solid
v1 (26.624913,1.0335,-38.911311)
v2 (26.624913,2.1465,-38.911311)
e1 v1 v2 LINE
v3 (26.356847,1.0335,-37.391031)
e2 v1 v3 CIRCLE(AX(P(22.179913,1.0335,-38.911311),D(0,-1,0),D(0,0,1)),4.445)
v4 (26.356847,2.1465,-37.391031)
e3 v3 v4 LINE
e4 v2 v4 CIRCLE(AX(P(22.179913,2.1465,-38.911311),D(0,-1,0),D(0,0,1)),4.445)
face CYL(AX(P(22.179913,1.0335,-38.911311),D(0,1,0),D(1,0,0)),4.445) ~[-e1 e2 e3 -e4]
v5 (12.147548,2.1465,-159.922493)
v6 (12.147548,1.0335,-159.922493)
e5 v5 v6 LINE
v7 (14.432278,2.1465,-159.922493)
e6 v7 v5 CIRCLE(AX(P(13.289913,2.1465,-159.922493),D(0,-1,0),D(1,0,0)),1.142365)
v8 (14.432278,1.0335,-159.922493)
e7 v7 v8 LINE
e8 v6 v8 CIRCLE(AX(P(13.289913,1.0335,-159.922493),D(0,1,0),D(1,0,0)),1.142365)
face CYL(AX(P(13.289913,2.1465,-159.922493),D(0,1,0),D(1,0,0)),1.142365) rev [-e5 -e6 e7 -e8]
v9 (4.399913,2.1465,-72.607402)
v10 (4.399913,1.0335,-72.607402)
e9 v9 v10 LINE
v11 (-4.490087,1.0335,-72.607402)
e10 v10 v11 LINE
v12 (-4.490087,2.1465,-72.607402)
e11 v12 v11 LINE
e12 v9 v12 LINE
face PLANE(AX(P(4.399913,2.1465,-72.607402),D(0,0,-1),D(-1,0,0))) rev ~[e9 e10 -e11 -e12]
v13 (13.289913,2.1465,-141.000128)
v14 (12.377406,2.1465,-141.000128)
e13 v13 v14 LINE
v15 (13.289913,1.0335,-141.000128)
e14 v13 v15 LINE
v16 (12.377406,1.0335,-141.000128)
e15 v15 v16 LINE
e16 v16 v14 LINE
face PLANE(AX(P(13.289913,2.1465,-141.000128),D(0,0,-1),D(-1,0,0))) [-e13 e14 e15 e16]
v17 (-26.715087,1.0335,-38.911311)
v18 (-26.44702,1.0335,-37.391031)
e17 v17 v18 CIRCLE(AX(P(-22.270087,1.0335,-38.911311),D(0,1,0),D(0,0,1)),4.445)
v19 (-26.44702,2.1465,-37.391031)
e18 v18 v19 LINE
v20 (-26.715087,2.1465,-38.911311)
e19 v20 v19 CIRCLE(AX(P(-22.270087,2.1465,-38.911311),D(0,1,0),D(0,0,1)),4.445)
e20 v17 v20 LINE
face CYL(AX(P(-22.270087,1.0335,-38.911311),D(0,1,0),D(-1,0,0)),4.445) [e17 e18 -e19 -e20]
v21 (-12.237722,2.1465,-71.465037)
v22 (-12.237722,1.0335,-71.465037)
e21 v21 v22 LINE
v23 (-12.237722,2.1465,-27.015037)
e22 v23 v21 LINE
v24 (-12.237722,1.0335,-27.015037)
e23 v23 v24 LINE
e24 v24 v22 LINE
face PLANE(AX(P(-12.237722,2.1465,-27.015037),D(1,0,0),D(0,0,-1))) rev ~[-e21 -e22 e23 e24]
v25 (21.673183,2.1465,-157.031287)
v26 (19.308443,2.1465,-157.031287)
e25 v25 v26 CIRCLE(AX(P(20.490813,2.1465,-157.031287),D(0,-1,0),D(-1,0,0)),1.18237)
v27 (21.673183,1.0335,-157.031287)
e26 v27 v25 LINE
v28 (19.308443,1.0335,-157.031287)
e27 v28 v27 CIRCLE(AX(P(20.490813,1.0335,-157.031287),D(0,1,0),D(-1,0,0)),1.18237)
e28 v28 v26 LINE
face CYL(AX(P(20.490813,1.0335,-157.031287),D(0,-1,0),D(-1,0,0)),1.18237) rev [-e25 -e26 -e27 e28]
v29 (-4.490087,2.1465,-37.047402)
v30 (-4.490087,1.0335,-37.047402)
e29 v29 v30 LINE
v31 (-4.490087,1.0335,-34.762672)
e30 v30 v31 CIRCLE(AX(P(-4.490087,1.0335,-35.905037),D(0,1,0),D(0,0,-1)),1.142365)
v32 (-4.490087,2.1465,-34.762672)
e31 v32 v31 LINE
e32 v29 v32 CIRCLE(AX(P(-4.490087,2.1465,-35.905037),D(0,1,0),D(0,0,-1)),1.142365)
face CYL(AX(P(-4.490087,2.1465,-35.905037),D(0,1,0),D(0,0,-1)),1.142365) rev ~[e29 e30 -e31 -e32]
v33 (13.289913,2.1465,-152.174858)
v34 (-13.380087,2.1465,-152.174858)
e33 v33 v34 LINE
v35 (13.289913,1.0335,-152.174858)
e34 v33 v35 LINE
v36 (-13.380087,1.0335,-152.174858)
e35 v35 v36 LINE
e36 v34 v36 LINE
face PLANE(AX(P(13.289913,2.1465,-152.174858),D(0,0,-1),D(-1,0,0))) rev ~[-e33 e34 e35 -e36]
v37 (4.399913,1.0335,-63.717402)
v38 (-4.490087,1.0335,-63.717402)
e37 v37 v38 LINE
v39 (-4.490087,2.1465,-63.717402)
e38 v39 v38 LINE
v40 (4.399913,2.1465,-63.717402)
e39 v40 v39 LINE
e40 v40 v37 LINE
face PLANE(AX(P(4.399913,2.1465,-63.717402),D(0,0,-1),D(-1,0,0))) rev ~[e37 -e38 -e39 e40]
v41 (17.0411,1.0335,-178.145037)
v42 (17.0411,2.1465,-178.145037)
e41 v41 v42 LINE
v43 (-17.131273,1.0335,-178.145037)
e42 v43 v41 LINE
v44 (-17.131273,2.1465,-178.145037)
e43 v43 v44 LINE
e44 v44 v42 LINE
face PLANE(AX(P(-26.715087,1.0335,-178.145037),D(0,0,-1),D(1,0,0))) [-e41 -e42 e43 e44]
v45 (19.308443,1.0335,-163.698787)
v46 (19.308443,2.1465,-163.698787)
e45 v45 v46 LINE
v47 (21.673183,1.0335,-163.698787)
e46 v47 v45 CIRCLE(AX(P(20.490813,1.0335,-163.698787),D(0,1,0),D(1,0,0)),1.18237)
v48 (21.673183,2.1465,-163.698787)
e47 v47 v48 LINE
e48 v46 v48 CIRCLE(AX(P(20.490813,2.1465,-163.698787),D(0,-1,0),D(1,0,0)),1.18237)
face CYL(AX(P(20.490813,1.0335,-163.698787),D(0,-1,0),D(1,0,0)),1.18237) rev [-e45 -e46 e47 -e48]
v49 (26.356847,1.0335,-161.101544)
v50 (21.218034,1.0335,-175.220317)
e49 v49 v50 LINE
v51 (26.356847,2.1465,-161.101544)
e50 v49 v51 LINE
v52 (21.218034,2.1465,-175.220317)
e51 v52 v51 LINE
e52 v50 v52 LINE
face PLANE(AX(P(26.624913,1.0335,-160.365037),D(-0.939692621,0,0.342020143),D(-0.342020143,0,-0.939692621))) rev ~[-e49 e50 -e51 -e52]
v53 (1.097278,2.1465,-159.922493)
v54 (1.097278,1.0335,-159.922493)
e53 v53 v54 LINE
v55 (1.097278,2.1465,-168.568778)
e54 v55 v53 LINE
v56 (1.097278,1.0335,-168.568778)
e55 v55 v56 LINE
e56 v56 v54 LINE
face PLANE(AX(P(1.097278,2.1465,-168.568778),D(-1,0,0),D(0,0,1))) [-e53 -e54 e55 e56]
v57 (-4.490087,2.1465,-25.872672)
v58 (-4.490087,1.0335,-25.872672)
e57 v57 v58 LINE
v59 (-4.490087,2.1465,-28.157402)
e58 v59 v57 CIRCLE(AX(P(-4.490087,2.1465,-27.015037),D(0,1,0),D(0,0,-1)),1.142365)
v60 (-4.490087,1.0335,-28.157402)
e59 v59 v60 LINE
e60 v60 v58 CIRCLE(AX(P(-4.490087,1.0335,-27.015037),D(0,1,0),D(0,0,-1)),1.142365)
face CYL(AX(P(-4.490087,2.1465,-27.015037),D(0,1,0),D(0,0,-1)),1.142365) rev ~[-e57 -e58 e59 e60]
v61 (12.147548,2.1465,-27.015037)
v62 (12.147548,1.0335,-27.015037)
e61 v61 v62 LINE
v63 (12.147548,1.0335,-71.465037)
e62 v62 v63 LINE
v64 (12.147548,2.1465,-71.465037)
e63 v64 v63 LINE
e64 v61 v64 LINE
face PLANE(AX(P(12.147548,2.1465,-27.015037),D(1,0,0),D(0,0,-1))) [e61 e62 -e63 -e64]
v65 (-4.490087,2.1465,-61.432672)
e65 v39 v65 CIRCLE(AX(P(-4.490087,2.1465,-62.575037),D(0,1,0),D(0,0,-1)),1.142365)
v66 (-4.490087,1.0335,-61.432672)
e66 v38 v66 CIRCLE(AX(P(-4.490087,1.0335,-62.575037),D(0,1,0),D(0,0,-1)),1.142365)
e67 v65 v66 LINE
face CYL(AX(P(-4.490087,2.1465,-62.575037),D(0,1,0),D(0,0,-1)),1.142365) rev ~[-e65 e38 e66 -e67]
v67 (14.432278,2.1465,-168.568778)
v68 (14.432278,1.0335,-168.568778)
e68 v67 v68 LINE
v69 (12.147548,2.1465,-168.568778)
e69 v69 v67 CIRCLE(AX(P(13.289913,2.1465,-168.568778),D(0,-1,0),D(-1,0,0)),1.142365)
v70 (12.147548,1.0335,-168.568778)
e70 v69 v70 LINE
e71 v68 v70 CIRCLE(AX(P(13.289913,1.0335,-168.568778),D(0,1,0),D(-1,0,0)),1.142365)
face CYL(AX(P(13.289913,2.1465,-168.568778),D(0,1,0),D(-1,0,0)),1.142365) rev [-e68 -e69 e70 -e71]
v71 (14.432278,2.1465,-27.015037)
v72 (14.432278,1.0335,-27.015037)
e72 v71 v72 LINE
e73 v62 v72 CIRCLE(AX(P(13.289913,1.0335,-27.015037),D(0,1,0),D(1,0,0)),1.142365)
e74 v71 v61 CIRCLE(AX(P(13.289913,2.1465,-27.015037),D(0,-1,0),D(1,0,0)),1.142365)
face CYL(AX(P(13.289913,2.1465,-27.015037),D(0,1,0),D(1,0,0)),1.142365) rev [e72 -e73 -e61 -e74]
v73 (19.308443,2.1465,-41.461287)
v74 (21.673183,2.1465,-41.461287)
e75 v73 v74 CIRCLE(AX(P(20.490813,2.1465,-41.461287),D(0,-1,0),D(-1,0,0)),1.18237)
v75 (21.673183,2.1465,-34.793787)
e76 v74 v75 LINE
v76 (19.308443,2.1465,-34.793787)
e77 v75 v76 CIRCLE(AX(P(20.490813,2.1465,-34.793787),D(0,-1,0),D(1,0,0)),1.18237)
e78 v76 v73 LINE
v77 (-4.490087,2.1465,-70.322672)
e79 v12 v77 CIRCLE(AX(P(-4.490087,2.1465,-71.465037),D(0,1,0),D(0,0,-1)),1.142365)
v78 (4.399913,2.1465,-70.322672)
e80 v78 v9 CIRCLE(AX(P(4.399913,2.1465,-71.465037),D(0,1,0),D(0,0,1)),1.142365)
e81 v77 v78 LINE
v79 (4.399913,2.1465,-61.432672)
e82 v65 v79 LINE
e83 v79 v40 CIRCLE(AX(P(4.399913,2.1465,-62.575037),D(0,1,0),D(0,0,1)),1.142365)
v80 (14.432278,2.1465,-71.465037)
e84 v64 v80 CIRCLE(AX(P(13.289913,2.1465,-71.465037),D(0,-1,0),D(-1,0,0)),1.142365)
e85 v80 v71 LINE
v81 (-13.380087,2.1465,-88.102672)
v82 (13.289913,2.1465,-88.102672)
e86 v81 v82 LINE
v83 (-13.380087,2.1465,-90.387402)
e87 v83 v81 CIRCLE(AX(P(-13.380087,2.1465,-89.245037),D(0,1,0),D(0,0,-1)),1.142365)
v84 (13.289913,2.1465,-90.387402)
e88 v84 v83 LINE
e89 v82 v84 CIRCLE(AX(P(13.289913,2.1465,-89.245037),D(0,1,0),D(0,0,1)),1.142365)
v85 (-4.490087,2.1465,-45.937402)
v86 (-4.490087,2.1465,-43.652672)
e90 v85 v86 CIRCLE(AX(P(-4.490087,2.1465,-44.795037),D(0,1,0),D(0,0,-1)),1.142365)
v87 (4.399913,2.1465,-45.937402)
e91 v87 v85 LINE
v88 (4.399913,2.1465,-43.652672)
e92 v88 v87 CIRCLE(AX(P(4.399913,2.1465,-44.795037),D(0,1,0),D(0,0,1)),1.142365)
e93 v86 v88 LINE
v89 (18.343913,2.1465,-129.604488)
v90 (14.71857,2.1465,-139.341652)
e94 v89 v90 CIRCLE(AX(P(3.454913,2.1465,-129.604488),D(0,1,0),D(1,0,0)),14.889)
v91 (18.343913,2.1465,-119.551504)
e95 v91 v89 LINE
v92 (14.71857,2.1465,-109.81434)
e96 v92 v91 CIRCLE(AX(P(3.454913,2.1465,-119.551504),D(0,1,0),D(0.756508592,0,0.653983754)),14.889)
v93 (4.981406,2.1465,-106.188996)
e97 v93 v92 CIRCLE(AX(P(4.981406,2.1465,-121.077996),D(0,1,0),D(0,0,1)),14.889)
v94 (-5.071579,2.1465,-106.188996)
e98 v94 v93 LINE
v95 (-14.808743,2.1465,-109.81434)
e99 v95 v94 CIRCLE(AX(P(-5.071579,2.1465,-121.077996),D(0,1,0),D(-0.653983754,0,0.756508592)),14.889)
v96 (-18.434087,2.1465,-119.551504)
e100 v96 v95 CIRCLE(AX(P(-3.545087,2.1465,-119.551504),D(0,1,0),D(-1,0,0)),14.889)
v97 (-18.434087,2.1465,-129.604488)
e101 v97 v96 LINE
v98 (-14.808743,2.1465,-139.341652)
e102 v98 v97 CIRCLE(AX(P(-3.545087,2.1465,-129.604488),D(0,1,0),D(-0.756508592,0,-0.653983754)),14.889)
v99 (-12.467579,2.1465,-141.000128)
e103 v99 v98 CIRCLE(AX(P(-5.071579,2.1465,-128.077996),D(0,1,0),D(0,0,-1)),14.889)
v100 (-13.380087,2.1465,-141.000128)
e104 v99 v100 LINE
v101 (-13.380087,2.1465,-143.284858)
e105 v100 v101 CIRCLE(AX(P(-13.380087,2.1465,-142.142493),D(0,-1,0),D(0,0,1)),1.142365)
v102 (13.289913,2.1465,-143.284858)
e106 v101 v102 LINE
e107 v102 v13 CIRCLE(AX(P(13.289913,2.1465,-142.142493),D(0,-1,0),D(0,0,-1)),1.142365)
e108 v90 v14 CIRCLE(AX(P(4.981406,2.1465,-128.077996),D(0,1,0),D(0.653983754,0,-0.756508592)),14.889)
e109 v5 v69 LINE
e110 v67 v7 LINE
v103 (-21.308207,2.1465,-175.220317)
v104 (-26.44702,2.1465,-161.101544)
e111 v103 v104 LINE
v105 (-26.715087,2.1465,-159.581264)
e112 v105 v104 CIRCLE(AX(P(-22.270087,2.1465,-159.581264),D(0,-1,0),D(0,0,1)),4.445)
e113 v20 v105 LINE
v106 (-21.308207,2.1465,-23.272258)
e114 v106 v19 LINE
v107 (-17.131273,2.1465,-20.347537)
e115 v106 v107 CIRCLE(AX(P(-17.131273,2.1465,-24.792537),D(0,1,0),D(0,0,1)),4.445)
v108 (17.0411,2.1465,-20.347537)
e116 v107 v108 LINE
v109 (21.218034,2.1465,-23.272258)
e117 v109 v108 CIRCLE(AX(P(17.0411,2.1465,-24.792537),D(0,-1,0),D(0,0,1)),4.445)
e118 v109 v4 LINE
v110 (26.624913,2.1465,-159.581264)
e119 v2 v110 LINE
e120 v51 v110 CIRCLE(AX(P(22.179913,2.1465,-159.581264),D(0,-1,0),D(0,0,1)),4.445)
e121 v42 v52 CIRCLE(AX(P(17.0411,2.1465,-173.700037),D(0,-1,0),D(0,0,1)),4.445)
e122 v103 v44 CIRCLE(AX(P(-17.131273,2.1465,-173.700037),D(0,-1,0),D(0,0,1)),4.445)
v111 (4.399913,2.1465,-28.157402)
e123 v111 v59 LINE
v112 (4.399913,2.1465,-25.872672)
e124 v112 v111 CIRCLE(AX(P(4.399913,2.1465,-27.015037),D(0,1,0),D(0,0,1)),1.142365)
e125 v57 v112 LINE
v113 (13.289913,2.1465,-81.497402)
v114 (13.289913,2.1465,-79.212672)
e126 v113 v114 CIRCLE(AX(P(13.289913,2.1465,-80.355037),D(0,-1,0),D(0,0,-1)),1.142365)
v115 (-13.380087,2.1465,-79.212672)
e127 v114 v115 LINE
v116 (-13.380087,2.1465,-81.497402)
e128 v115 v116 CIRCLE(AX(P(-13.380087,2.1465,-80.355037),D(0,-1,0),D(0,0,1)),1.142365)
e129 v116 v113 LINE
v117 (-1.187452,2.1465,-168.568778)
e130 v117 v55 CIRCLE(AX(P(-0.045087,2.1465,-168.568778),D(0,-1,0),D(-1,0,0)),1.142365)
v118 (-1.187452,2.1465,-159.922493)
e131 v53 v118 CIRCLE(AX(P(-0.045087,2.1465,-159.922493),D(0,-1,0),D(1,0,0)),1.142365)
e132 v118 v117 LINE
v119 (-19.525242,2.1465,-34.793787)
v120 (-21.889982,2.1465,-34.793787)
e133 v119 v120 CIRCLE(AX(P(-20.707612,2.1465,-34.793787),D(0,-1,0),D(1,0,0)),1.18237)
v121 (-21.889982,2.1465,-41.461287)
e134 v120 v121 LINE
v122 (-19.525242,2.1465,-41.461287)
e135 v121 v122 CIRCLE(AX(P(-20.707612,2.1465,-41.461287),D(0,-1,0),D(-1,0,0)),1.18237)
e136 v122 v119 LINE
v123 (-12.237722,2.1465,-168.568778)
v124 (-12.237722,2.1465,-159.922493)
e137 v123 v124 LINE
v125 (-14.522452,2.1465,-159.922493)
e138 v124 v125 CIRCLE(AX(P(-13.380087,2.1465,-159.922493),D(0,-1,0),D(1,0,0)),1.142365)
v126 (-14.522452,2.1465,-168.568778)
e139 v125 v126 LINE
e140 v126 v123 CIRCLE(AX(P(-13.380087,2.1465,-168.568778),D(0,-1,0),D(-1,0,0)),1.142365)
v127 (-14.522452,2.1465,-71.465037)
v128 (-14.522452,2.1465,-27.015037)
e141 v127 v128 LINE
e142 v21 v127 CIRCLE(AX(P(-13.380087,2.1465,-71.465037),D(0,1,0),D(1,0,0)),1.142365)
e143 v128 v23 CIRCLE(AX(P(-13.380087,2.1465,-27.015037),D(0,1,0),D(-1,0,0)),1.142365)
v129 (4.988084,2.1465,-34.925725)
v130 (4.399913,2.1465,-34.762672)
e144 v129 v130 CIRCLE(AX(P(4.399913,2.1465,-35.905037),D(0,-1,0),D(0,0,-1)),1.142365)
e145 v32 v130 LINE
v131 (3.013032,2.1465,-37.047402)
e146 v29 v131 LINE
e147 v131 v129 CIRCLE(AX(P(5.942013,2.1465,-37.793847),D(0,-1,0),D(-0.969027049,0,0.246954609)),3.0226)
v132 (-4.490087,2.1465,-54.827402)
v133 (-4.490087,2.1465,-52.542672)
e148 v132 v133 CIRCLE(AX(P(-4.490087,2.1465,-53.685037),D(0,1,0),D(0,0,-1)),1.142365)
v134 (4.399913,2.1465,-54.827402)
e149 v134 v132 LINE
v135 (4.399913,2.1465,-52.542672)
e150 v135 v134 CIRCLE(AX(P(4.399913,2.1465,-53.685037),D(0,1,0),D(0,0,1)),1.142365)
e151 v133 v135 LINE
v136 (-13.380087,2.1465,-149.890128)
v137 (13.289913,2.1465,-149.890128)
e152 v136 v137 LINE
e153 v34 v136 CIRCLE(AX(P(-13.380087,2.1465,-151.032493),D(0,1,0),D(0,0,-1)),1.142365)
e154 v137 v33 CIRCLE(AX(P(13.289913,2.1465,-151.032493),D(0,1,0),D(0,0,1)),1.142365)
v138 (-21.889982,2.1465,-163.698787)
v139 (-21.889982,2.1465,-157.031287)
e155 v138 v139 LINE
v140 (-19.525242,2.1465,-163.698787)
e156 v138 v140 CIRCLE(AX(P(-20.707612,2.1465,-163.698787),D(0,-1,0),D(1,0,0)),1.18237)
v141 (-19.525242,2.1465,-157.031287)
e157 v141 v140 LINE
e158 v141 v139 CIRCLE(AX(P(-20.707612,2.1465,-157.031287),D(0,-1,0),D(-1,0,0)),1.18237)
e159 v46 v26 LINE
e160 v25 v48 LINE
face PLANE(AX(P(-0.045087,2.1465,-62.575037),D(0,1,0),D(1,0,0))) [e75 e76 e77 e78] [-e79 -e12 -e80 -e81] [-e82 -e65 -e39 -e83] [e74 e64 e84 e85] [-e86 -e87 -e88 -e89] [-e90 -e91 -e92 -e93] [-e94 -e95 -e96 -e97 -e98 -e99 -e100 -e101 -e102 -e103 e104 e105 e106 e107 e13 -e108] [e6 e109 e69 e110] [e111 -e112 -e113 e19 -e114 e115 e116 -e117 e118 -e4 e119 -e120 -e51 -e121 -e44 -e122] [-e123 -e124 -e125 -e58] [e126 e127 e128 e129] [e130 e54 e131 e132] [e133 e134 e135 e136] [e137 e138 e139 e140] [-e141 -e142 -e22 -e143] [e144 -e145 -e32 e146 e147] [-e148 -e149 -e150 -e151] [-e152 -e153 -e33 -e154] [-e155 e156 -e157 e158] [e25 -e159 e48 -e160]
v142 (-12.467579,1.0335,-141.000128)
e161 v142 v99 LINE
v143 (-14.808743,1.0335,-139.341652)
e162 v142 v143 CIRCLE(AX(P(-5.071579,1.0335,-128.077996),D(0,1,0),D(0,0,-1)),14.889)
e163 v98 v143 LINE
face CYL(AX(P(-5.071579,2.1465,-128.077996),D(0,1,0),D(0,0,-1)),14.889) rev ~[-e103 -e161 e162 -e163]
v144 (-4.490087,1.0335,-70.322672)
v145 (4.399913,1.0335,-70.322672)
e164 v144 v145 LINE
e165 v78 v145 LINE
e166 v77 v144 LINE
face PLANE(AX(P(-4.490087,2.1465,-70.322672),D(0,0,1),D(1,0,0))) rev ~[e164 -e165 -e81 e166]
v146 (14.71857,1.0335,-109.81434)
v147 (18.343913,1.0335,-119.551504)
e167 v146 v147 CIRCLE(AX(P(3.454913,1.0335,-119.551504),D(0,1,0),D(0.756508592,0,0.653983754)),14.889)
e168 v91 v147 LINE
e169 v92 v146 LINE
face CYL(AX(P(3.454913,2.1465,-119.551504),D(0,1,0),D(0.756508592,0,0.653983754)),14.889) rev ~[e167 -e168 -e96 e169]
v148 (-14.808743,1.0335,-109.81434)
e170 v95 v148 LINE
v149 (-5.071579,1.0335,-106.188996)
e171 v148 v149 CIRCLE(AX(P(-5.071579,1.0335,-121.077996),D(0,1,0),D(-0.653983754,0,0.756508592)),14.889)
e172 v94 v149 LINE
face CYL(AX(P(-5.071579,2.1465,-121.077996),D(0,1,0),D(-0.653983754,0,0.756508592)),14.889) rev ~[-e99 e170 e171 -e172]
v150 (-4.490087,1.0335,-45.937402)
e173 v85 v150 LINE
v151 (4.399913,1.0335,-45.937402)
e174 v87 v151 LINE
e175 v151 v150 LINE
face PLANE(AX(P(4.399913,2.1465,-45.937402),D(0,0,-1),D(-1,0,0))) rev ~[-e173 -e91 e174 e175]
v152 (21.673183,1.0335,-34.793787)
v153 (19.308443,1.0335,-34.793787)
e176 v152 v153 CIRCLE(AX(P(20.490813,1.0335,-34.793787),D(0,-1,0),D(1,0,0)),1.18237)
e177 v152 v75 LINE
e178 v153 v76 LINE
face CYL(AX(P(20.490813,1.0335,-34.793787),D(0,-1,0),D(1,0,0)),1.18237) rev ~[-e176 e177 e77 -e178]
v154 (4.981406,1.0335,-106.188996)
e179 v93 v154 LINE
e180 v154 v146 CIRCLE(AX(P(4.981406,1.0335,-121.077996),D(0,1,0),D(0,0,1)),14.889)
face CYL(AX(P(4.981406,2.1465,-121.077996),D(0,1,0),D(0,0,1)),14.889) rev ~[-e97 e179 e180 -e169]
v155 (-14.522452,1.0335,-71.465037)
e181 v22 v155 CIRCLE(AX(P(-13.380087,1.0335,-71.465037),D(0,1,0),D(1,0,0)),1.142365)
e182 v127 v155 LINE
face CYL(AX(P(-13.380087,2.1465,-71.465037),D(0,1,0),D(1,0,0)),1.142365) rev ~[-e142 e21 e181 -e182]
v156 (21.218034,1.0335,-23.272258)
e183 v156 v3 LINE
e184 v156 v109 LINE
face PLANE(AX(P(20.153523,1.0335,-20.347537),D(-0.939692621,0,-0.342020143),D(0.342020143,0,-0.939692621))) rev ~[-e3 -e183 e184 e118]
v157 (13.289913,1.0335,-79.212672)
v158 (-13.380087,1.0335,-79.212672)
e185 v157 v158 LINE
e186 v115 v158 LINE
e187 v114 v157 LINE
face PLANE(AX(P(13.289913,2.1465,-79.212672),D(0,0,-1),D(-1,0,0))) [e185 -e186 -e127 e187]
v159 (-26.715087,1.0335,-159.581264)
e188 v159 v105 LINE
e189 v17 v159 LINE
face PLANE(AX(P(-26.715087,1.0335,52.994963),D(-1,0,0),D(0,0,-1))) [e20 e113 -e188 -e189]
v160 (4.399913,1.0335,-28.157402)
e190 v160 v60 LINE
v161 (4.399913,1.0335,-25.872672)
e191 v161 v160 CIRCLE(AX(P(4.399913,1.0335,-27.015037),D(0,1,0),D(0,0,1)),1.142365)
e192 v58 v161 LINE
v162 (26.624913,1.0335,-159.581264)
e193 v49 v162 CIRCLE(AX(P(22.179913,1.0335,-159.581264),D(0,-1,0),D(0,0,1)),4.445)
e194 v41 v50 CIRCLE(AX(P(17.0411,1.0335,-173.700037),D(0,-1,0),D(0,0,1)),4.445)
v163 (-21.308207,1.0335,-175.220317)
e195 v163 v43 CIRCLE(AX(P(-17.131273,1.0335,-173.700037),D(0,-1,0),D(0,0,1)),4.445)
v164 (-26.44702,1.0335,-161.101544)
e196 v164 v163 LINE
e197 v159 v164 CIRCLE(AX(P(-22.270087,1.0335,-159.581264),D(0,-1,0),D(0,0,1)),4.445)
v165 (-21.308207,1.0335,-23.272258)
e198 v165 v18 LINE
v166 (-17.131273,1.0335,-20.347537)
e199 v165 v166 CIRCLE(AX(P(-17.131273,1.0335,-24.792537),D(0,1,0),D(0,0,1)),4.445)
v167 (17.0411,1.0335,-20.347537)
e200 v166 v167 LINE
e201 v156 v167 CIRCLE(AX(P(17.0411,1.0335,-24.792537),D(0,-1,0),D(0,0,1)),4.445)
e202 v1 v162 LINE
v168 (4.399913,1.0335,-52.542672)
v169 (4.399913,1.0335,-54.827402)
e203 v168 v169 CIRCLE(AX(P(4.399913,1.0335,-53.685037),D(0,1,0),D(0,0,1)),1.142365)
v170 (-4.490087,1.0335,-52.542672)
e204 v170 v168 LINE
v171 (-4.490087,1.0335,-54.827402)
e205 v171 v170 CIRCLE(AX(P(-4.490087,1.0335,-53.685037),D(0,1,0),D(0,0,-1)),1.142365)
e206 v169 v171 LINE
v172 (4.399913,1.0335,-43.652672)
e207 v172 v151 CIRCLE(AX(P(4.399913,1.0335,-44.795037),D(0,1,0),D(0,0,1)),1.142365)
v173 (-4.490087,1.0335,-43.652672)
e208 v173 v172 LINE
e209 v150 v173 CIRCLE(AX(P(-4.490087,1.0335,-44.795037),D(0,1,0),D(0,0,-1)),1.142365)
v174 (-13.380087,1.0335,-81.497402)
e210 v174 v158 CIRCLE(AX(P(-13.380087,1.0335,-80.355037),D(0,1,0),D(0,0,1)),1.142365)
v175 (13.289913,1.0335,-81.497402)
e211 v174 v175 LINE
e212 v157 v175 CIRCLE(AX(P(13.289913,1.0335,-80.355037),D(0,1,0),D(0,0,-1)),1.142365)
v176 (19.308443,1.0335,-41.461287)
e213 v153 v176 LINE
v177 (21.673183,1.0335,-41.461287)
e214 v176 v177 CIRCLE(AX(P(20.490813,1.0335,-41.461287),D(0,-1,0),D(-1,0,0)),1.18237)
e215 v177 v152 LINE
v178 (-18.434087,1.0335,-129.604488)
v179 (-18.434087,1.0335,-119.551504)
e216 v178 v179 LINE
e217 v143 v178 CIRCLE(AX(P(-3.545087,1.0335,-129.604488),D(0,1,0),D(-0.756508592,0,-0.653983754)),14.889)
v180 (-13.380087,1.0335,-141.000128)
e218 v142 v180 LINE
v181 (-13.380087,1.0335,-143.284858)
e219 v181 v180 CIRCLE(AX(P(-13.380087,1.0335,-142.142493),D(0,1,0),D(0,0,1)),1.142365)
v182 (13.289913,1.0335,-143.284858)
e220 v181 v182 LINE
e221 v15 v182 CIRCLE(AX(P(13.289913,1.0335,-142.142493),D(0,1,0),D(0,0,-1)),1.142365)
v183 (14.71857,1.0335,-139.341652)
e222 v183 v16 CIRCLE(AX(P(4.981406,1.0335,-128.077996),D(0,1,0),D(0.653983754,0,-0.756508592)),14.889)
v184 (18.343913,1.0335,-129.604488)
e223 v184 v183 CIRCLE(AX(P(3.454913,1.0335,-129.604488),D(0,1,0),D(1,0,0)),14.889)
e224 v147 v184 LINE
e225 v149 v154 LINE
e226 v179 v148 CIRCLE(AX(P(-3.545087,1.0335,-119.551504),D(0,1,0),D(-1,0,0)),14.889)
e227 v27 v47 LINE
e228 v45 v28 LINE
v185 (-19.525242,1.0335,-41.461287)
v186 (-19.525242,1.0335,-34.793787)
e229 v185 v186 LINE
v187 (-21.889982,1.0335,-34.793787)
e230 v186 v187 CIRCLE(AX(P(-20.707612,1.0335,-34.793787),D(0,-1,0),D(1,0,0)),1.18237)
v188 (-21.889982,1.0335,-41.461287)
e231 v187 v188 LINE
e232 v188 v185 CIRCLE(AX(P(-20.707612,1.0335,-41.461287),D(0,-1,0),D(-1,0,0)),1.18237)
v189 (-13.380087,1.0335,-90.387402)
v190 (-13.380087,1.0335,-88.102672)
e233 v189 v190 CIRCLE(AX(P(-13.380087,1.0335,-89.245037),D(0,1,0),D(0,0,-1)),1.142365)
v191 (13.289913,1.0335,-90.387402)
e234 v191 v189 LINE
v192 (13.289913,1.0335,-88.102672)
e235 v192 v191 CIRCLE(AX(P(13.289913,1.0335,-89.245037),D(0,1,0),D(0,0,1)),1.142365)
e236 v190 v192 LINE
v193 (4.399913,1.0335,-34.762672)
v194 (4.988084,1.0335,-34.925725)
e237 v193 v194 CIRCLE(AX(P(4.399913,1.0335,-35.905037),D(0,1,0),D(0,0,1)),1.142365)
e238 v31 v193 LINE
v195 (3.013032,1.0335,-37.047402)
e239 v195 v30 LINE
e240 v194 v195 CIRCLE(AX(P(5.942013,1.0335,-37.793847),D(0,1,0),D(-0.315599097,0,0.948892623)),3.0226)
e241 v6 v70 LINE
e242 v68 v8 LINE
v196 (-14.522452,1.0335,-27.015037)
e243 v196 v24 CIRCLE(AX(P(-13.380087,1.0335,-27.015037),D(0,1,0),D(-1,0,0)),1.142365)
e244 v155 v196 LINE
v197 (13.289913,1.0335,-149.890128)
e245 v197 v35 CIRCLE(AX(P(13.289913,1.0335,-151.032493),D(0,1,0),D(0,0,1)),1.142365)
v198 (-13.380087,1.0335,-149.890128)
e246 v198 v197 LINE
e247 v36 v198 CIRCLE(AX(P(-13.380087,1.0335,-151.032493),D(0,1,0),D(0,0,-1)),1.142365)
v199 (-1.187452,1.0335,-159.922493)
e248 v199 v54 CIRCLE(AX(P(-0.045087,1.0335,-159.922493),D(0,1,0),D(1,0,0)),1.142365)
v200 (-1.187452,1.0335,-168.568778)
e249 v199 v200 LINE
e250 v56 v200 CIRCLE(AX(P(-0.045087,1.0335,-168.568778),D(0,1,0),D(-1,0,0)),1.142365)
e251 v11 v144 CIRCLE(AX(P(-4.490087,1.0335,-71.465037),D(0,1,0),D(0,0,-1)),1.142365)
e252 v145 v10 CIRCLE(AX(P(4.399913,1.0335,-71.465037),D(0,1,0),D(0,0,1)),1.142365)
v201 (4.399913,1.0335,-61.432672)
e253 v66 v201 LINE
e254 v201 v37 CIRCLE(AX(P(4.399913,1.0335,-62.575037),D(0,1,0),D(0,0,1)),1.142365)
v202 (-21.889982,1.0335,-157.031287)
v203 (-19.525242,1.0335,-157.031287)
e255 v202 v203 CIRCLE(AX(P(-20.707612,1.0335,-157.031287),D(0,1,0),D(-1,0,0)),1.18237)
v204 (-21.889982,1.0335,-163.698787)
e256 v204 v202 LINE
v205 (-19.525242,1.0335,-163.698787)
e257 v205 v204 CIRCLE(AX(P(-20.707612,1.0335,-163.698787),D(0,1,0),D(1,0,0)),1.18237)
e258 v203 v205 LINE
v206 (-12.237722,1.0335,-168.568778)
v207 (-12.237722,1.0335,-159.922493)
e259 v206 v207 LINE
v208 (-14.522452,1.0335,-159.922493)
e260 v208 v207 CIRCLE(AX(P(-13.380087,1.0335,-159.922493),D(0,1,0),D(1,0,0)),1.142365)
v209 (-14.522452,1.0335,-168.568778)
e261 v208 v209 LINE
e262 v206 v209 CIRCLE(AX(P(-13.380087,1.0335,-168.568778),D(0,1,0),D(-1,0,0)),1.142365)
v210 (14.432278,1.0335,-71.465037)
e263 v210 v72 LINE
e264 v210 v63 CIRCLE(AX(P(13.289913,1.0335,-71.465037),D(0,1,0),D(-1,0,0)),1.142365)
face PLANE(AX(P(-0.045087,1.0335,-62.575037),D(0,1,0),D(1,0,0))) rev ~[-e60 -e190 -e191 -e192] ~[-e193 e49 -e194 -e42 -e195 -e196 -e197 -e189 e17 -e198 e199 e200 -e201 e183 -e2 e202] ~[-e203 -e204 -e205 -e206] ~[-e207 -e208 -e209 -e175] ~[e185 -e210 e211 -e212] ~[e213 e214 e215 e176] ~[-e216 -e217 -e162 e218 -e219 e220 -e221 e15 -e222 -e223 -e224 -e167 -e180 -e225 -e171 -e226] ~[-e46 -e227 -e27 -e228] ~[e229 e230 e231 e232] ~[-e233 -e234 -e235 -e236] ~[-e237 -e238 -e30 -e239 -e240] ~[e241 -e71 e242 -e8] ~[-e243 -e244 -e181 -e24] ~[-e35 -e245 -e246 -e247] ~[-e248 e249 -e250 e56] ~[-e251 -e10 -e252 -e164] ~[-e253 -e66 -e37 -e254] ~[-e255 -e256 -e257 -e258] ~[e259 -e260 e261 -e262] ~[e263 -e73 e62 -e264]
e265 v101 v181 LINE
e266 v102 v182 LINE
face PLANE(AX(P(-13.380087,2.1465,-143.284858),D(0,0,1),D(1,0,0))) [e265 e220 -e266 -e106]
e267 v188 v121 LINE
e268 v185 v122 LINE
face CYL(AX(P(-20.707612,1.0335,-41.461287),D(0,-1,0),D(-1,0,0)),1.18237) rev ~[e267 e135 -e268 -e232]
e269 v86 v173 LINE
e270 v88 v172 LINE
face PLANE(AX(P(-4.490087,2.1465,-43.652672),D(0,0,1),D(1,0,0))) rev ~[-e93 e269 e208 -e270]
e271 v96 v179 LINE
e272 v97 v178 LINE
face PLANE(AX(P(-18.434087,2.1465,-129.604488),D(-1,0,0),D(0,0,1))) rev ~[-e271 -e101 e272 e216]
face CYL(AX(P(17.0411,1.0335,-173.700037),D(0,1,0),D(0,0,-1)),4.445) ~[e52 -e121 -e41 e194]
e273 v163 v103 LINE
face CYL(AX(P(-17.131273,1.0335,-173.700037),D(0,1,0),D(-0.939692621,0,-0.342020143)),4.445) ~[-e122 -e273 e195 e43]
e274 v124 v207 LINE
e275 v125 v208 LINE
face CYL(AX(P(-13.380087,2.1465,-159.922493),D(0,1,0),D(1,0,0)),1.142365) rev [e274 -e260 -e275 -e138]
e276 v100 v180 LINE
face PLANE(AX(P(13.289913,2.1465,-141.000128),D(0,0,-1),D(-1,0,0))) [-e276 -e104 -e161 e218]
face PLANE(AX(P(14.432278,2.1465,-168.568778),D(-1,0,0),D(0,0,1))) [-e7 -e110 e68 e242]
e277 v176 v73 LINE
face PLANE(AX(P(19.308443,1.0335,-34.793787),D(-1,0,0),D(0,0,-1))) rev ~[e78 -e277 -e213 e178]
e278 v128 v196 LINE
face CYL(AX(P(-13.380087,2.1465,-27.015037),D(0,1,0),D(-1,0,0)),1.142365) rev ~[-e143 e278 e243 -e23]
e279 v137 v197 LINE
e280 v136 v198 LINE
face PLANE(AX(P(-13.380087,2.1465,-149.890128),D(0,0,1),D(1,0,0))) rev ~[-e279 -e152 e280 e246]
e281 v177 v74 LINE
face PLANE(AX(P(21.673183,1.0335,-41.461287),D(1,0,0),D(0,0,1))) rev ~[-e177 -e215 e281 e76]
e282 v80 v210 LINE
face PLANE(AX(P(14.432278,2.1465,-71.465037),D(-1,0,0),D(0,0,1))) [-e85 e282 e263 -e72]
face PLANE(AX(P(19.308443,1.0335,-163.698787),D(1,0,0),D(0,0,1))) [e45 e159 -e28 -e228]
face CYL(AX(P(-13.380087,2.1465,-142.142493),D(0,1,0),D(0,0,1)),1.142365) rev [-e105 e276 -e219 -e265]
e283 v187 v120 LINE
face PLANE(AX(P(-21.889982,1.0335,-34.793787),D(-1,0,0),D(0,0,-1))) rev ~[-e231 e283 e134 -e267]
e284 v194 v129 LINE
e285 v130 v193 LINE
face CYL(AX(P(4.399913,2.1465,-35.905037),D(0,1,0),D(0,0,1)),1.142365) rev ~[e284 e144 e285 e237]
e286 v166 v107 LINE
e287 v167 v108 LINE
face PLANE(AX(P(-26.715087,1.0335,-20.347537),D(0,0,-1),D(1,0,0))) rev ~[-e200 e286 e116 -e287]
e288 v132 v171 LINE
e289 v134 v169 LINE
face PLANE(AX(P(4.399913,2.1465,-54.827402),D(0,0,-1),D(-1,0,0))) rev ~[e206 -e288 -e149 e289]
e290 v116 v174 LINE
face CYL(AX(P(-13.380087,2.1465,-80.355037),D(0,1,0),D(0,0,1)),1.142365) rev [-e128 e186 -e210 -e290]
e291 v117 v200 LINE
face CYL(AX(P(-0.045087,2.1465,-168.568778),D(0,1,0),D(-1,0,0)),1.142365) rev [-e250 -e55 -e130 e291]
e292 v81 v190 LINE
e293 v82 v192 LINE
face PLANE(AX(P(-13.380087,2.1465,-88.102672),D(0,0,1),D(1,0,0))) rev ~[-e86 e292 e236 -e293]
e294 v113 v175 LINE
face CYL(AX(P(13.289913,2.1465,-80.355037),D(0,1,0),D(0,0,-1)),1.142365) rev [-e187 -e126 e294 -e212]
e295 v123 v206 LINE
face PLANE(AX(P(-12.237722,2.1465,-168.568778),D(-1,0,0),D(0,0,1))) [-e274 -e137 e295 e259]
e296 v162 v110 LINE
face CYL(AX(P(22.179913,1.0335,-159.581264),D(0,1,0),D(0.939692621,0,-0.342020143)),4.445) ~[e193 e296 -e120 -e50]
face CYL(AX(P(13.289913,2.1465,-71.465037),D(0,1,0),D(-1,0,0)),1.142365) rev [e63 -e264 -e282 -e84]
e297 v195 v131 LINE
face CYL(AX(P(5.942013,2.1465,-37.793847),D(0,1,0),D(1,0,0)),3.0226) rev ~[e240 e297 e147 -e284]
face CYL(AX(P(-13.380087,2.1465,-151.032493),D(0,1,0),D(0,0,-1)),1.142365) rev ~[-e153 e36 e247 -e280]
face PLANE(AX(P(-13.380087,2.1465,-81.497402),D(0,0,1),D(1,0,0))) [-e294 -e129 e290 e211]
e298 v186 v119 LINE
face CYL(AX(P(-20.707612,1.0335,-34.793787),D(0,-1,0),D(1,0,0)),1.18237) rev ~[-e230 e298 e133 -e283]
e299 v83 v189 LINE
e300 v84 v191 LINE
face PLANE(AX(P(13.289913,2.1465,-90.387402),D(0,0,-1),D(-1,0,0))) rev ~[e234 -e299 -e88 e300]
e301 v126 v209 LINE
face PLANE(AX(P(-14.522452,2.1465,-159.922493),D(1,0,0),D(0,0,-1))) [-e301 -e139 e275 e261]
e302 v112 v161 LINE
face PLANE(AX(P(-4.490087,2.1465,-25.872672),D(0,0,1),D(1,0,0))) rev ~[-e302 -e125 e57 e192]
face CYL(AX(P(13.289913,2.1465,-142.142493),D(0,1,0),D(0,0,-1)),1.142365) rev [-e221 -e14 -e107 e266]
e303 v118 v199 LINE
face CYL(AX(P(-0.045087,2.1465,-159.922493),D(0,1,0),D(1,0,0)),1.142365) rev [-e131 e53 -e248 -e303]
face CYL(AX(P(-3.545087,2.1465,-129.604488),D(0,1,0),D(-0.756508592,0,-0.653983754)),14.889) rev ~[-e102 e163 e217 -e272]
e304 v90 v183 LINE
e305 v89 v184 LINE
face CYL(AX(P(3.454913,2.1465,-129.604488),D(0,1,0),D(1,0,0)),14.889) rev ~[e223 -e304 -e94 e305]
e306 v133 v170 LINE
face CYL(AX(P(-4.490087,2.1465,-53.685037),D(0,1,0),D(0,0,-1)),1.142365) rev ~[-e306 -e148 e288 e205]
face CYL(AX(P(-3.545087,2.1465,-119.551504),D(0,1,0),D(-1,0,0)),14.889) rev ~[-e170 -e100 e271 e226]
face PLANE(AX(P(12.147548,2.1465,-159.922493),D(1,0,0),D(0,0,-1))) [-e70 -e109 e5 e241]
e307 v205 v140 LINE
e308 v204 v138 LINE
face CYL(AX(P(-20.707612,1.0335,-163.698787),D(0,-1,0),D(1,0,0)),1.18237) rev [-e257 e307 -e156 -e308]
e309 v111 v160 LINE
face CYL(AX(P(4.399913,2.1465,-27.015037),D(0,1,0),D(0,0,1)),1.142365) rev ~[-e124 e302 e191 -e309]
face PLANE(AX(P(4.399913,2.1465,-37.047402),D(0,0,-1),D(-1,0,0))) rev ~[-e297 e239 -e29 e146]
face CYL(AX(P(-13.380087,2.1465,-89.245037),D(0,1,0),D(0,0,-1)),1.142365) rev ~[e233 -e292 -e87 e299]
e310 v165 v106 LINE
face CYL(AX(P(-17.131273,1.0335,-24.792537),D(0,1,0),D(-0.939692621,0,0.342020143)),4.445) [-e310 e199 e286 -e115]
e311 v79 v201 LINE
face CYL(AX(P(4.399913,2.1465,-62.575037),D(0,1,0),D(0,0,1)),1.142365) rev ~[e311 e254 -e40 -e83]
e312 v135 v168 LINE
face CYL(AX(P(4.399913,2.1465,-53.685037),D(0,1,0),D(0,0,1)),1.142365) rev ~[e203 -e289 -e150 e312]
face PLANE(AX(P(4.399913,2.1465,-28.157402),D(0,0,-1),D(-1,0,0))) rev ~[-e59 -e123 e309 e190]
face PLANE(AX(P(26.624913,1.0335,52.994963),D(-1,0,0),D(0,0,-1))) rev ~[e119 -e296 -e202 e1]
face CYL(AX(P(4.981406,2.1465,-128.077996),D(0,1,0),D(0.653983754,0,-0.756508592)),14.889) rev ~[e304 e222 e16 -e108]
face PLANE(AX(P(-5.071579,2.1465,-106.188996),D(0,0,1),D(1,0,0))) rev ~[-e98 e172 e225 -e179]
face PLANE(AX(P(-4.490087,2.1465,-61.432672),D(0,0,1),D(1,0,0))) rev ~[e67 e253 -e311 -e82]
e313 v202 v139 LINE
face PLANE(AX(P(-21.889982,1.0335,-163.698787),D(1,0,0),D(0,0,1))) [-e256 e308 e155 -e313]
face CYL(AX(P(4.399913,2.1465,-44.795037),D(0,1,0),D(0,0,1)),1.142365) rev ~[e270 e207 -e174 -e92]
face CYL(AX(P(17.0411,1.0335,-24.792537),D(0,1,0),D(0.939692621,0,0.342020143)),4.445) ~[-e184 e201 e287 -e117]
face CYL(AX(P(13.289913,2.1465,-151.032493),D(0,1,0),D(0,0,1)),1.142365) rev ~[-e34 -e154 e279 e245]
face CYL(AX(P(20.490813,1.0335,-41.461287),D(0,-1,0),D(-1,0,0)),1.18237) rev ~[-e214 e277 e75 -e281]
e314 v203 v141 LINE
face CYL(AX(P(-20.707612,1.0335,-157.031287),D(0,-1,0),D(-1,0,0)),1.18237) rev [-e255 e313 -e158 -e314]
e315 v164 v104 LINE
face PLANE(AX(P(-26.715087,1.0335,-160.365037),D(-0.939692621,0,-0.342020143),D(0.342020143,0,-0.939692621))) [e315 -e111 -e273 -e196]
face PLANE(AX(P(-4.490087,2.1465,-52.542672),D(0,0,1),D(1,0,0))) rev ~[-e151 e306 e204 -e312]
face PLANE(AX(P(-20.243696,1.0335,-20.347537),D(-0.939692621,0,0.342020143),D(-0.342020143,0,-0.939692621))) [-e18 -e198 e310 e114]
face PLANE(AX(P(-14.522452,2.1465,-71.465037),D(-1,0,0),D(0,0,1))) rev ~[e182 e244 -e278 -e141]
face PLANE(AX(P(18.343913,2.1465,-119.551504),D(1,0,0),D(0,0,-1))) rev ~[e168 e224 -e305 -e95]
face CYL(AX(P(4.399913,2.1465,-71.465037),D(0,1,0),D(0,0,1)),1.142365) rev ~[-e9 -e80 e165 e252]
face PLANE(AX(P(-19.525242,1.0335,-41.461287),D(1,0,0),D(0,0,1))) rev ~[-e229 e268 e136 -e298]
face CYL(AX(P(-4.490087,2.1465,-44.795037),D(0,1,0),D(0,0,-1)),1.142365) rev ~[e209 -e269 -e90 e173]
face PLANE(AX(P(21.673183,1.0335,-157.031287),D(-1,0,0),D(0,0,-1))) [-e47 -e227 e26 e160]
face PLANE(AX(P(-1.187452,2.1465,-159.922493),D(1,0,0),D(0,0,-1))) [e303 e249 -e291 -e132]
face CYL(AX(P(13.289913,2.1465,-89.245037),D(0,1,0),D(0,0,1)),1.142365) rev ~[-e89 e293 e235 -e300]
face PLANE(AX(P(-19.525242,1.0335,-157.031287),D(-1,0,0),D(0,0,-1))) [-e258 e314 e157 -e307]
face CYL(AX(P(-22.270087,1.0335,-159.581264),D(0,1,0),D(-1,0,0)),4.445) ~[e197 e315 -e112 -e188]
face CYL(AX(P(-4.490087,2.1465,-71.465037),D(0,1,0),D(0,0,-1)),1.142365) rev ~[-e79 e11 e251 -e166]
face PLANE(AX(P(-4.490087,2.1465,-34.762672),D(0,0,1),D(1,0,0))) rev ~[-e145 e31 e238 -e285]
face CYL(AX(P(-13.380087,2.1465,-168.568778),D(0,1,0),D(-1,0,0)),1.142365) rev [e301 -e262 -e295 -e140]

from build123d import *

# Parameters (mm, degrees)
SKETCH1_W               = 152.4
SKETCH1_H               = 660.4
BOSS_EXTRUDE1_DEPTH     = 3.18
CUT_EXTRUDE2_DEPTH      = 4.18
CUT_EXTRUDE3_DEPTH      = 4.18
CUT_EXTRUDE4_DEPTH      = 4.18
FILLET1_R               = 12.7
SKETCH6_R               = 8.636
CUT_EXTRUDE5_DEPTH      = 1
CUT_EXTRUDE5_DEPTH_BACK = 4.18
CUT_EXTRUDE6_REACH      = 5.18
SKETCH7_W               = 152.4
SKETCH7_H               = 209.55
CUT_EXTRUDE7_REACH      = 5.18
FILLET2_R               = 12.7
CUT_EXTRUDE8_REACH      = 5.18
SCALE1_SCALE            = 0.35


with BuildPart() as part:
    # Sketch1 → Boss-Extrude1 (new body)
    with BuildSketch(Plane(origin=(0, 0, 0), x_dir=(1, 0, 0), z_dir=(0, 1, 0))):
        Rectangle(SKETCH1_W, SKETCH1_H)
    extrude(amount=BOSS_EXTRUDE1_DEPTH)

    # Sketch3 → Cut-Extrude2 (cut, through all)
    with BuildSketch(Plane(origin=(0, 3.18, 0), x_dir=(1, 0, 0), z_dir=(0, 1, 0))):
        with BuildLine():
            Line((-38.1, 54.0639), (38.1, 54.0639))
            ThreePointArc((38.1, 54.0639), (41.3639, 50.8), (38.1, 47.5361))
            Line((38.1, 47.5361), (-38.1, 47.5361))
            ThreePointArc((-38.1, 47.5361), (-41.3639, 50.8), (-38.1, 54.0639))
        make_face()
        with BuildLine():
            Line((-41.3639, 25.4), (-41.3639, -101.6))
            ThreePointArc((-41.3639, -101.6), (-38.1, -104.8639), (-34.8361, -101.6))
            Line((-34.8361, -101.6), (-34.8361, 25.4))
            ThreePointArc((-34.8361, 25.4), (-38.1, 28.6639), (-41.3639, 25.4))
        make_face()
        with BuildLine():
            Line((41.3639, 25.4), (41.3639, -101.6))
            ThreePointArc((41.3639, -101.6), (38.1, -104.8639), (34.8361, -101.6))
            Line((34.8361, -101.6), (34.8361, 25.4))
            ThreePointArc((34.8361, 25.4), (38.1, 28.6639), (41.3639, 25.4))
        make_face()
        with BuildLine():
            Line((-38.1, -130.2639), (38.1, -130.2639))
            ThreePointArc((38.1, -130.2639), (41.3639, -127), (38.1, -123.7361))
            Line((38.1, -123.7361), (-38.1, -123.7361))
            ThreePointArc((-38.1, -123.7361), (-41.3639, -127), (-38.1, -130.2639))
        make_face()
        with BuildLine():
            Line((41.3639, -279.4), (41.3639, -152.4))
            ThreePointArc((41.3639, -152.4), (38.1, -149.1361), (34.8361, -152.4))
            Line((34.8361, -152.4), (34.8361, -279.4))
            ThreePointArc((34.8361, -279.4), (38.1, -282.6639), (41.3639, -279.4))
        make_face()
        with BuildLine():
            Line((-41.3639, -279.4), (-41.3639, -152.4))
            ThreePointArc((-41.3639, -152.4), (-38.1, -149.1361), (-34.8361, -152.4))
            Line((-34.8361, -152.4), (-34.8361, -279.4))
            ThreePointArc((-34.8361, -279.4), (-38.1, -282.6639), (-41.3639, -279.4))
        make_face()
        with BuildLine():
            Line((-38.1, -301.5361), (38.1, -301.5361))
            ThreePointArc((38.1, -301.5361), (41.3639, -304.8), (38.1, -308.0639))
            Line((38.1, -308.0639), (-38.1, -308.0639))
            ThreePointArc((-38.1, -308.0639), (-41.3639, -304.8), (-38.1, -301.5361))
        make_face()
        with BuildLine():
            Line((-12.7, -276.1361), (12.7, -276.1361))
            ThreePointArc((12.7, -276.1361), (15.9639, -279.4), (12.7, -282.6639))
            Line((12.7, -282.6639), (-12.7, -282.6639))
            ThreePointArc((-12.7, -282.6639), (-15.9639, -279.4), (-12.7, -276.1361))
        make_face()
        with BuildLine():
            Line((-12.7, -250.7361), (12.7, -250.7361))
            ThreePointArc((12.7, -250.7361), (15.9639, -254), (12.7, -257.2639))
            Line((12.7, -257.2639), (-12.7, -257.2639))
            ThreePointArc((-12.7, -257.2639), (-15.9639, -254), (-12.7, -250.7361))
        make_face()
        with BuildLine():
            Line((-12.7, -225.3361), (12.7, -225.3361))
            ThreePointArc((12.7, -225.3361), (15.9639, -228.6), (12.7, -231.8639))
            Line((12.7, -231.8639), (-12.7, -231.8639))
            ThreePointArc((-12.7, -231.8639), (-15.9639, -228.6), (-12.7, -225.3361))
        make_face()
        with BuildLine():
            Line((-12.7, -199.9361), (12.7, -199.9361))
            ThreePointArc((12.7, -199.9361), (15.9639, -203.2), (12.7, -206.4639))
            Line((12.7, -206.4639), (-12.7, -206.4639))
            ThreePointArc((-12.7, -206.4639), (-15.9639, -203.2), (-12.7, -199.9361))
        make_face()
        with BuildLine():
            Line((-12.7, -174.5361), (12.7, -174.5361))
            ThreePointArc((12.7, -174.5361), (15.9639, -177.8), (12.7, -181.0639))
            Line((12.7, -181.0639), (-12.7, -181.0639))
            ThreePointArc((-12.7, -181.0639), (-15.9639, -177.8), (-12.7, -174.5361))
        make_face()
        with BuildLine():
            Line((-12.7, -149.1361), (12.7, -149.1361))
            ThreePointArc((12.7, -149.1361), (15.9639, -152.4), (12.7, -155.6639))
            Line((12.7, -155.6639), (-12.7, -155.6639))
            ThreePointArc((-12.7, -155.6639), (-15.9639, -152.4), (-12.7, -149.1361))
        make_face()
        with BuildLine():
            Line((-12.7, 22.1361), (12.7, 22.1361))
            ThreePointArc((12.7, 22.1361), (15.9639, 25.4), (12.7, 28.6639))
            Line((12.7, 28.6639), (-12.7, 28.6639))
            ThreePointArc((-12.7, 28.6639), (-15.9639, 25.4), (-12.7, 22.1361))
        make_face()
        with BuildLine():
            Line((-12.7, -3.2639), (12.7, -3.2639))
            ThreePointArc((12.7, -3.2639), (15.9639, 0), (12.7, 3.2639))
            Line((12.7, 3.2639), (-12.7, 3.2639))
            ThreePointArc((-12.7, 3.2639), (-15.9639, 0), (-12.7, -3.2639))
        make_face()
        with BuildLine():
            Line((-12.7, -28.6639), (12.7, -28.6639))
            ThreePointArc((12.7, -28.6639), (15.9639, -25.4), (12.7, -22.1361))
            Line((12.7, -22.1361), (-12.7, -22.1361))
            ThreePointArc((-12.7, -22.1361), (-15.9639, -25.4), (-12.7, -28.6639))
        make_face()
        with BuildLine():
            Line((-12.7, -54.0639), (12.7, -54.0639))
            ThreePointArc((12.7, -54.0639), (15.9639, -50.8), (12.7, -47.5361))
            Line((12.7, -47.5361), (-12.7, -47.5361))
            ThreePointArc((-12.7, -47.5361), (-15.9639, -50.8), (-12.7, -54.0639))
        make_face()
        with BuildLine():
            Line((-12.7, -79.4639), (12.7, -79.4639))
            ThreePointArc((12.7, -79.4639), (15.9639, -76.2), (12.7, -72.9361))
            Line((12.7, -72.9361), (-12.7, -72.9361))
            ThreePointArc((-12.7, -72.9361), (-15.9639, -76.2), (-12.7, -79.4639))
        make_face()
        with BuildLine():
            Line((-12.7, -104.8639), (12.7, -104.8639))
            ThreePointArc((12.7, -104.8639), (15.9639, -101.6), (12.7, -98.3361))
            Line((12.7, -98.3361), (-12.7, -98.3361))
            ThreePointArc((-12.7, -98.3361), (-15.9639, -101.6), (-12.7, -104.8639))
        make_face()
        with BuildLine():
            Line((-38.1, 72.9361), (38.1, 72.9361))
            ThreePointArc((38.1, 72.9361), (41.3639, 76.2), (38.1, 79.4639))
            Line((38.1, 79.4639), (-38.1, 79.4639))
            ThreePointArc((-38.1, 79.4639), (-41.3639, 76.2), (-38.1, 72.9361))
        make_face()
        with BuildLine():
            Line((-38.1, 230.599488), (38.1, 230.599488))
            ThreePointArc((38.1, 230.599488), (41.3639, 227.335588), (38.1, 224.071688))
            Line((38.1, 224.071688), (-38.1, 224.071688))
            ThreePointArc((-38.1, 224.071688), (-41.3639, 227.335588), (-38.1, 230.599488))
        make_face()
        with BuildLine():
            Line((-38.1, 249.471688), (38.1, 249.471688))
            ThreePointArc((38.1, 249.471688), (41.3639, 252.735588), (38.1, 255.999488))
            Line((38.1, 255.999488), (-38.1, 255.999488))
            ThreePointArc((-38.1, 255.999488), (-41.3639, 252.735588), (-38.1, 249.471688))
        make_face()
        with BuildLine():
            Line((-34.8361, 302.83925906), (-34.8361, 278.135588))
            ThreePointArc((-34.8361, 278.135588), (-38.1, 274.871688), (-41.3639, 278.135588))
            Line((-41.3639, 278.135588), (-41.3639, 302.83925906))
            ThreePointArc((-41.3639, 302.83925906), (-38.1, 306.10315906), (-34.8361, 302.83925906))
        make_face()
        with BuildLine():
            Line((3.2639, 302.83925906), (3.2639, 278.135588))
            ThreePointArc((3.2639, 278.135588), (0, 274.871688), (-3.2639, 278.135588))
            Line((-3.2639, 278.135588), (-3.2639, 302.83925906))
            ThreePointArc((-3.2639, 302.83925906), (0, 306.10315906), (3.2639, 302.83925906))
        make_face()
        with BuildLine():
            Line((41.3639, 302.83925906), (41.3639, 278.135588))
            ThreePointArc((41.3639, 278.135588), (38.1, 274.871688), (34.8361, 278.135588))
            Line((34.8361, 278.135588), (34.8361, 302.83925906))
            ThreePointArc((34.8361, 302.83925906), (38.1, 306.10315906), (41.3639, 302.83925906))
        make_face()
    extrude(amount=-CUT_EXTRUDE2_DEPTH, mode=Mode.SUBTRACT)

    # Sketch4 → Cut-Extrude3 (cut, through all)
    with BuildSketch(Plane(origin=(0, 3.18, 0), x_dir=(1, 0, 0), z_dir=(0, 1, 0))):
        with BuildLine():
            Line((-14.361406616, 124.611310304), (14.361406616, 124.611310304))
            ThreePointArc((14.361406616, 124.611310304), (29.204496188, 127.284854581), (42.181875503, 134.969434801))
            ThreePointArc((42.181875503, 134.969434801), (49.866455724, 147.946814116), (52.54, 162.789903688))
            Line((52.54, 162.789903688), (52.54, 191.512716921))
            ThreePointArc((52.54, 191.512716921), (49.866455724, 206.355806493), (42.181875503, 219.333185808))
            ThreePointArc((42.181875503, 219.333185808), (29.204496188, 227.017766028), (14.361406616, 229.691310304))
            Line((14.361406616, 229.691310304), (-14.361406616, 229.691310304))
            ThreePointArc((-14.361406616, 229.691310304), (-29.204496188, 227.017766028), (-42.181875503, 219.333185808))
            ThreePointArc((-42.181875503, 219.333185808), (-49.866455724, 206.355806493), (-52.54, 191.512716921))
            Line((-52.54, 191.512716921), (-52.54, 162.789903688))
            ThreePointArc((-52.54, 162.789903688), (-49.866455724, 147.946814116), (-42.181875503, 134.969434801))
            ThreePointArc((-42.181875503, 134.969434801), (-29.204496188, 127.284854581), (-14.361406616, 124.611310304))
        make_face()
    extrude(amount=-CUT_EXTRUDE3_DEPTH, mode=Mode.SUBTRACT)

    # Sketch5 → Cut-Extrude4 (cut, through all)
    with BuildSketch(Plane.XZ):
        Polygon((76.2, 279.4), (57.710312099, 330.2), (76.2, 330.2), align=None)
        Polygon((-57.710312099, 330.2), (-76.2, 330.2), (-76.2, 279.4), align=None)
        Polygon((-76.2, -279.4), (-57.710312099, -330.2), (-76.2, -330.2), align=None)
        Polygon((57.710312099, -330.2), (76.2, -330.2), (76.2, -279.4), align=None)
    extrude(amount=-CUT_EXTRUDE4_DEPTH, mode=Mode.SUBTRACT)

    # Fillet1
    fillet1_edges = [part.edges().sort_by_distance(p)[0] for p in [
        (57.710312099, 1.59, -330.2),
        (76.2, 1.59, -279.4),
        (-76.2, 1.59, -279.4),
        (-57.710312099, 1.59, -330.2),
        (-57.710312099, 1.59, 330.2),
        (-76.2, 1.59, 279.4),
        (76.2, 1.59, 279.4),
        (57.710312099, 1.59, 330.2),
    ]]
    fillet(fillet1_edges, radius=FILLET1_R)

    # Sketch6 → Cut-Extrude5 (cut, two sides)
    with BuildSketch(Plane(origin=(0, 3.18, 0), x_dir=(1, 0, 0), z_dir=(0, 1, 0))) as cut_extrude5_sk:
        with Locations((17.106, -70.8034)):
            Circle(SKETCH6_R)
    extrude(amount=CUT_EXTRUDE5_DEPTH, mode=Mode.SUBTRACT)
    extrude(cut_extrude5_sk.sketch, amount=-CUT_EXTRUDE5_DEPTH_BACK, mode=Mode.SUBTRACT)

    # Sketch7 → Cut-Extrude6 (cut, up to next)
    with BuildSketch(Plane.XZ, mode=Mode.PRIVATE) as cut_extrude6_sk1:
        with Locations((0, 225.425)):
            Rectangle(SKETCH7_W, SKETCH7_H)
    cut_extrude6_tool1 = extrude(cut_extrude6_sk1.sketch, amount=-CUT_EXTRUDE6_REACH, mode=Mode.PRIVATE) & part.part
    add(cut_extrude6_tool1.solids().sort_by_distance((0, 0, 225.425))[0], mode=Mode.SUBTRACT)

    # Sketch8 → Cut-Extrude7 (cut, up to next)
    with BuildSketch(Plane.XZ, mode=Mode.PRIVATE) as cut_extrude7_sk1:
        Polygon((76.2, 69.85), (76.2, 120.65), (57.710312099, 120.65), align=None)
    cut_extrude7_tool1 = extrude(cut_extrude7_sk1.sketch, amount=-CUT_EXTRUDE7_REACH, mode=Mode.PRIVATE) & part.part
    add(cut_extrude7_tool1.solids().sort_by_distance((70.036771, 0, 103.716667))[0], mode=Mode.SUBTRACT)
    # Sketch8 → Cut-Extrude7 (cut, up to next)
    with BuildSketch(Plane.XZ, mode=Mode.PRIVATE) as cut_extrude7_sk2:
        Polygon((-76.2, 120.65), (-57.710312099, 120.65), (-76.2, 69.85), align=None)
    cut_extrude7_tool2 = extrude(cut_extrude7_sk2.sketch, amount=-CUT_EXTRUDE7_REACH, mode=Mode.PRIVATE) & part.part
    add(cut_extrude7_tool2.solids().sort_by_distance((-70.036771, 0, 103.716667))[0], mode=Mode.SUBTRACT)

    # Fillet2
    fillet2_edges = [part.edges().sort_by_distance(p)[0] for p in [
        (76.2, 1.59, 69.85),
        (57.710312099, 1.59, 120.65),
        (-76.2, 1.59, 69.85),
        (-57.710312099, 1.59, 120.65),
    ]]
    fillet(fillet2_edges, radius=FILLET2_R)

    # Sketch9 → Cut-Extrude8 (cut, up to next)
    with BuildSketch(Plane.XZ, mode=Mode.PRIVATE) as cut_extrude8_sk1:
        with BuildLine():
            Line((62.052200001, -269.875), (62.052200001, -288.925))
            ThreePointArc((62.052200001, -288.925), (58.674000001, -292.3032), (55.295800001, -288.925))
            Line((55.295800001, -288.925), (55.295800001, -269.875))
            ThreePointArc((55.295800001, -269.875), (58.674000001, -266.4968), (62.052200001, -269.875))
        make_face()
    cut_extrude8_tool1 = extrude(cut_extrude8_sk1.sketch, amount=-CUT_EXTRUDE8_REACH, mode=Mode.PRIVATE) & part.part
    add(cut_extrude8_tool1.solids().sort_by_distance((58.674, 0, -279.4))[0], mode=Mode.SUBTRACT)
    # Sketch9 → Cut-Extrude8 (cut, up to next)
    with BuildSketch(Plane.XZ, mode=Mode.PRIVATE) as cut_extrude8_sk2:
        with BuildLine():
            Line((-55.657585683, -269.875), (-55.657585683, -288.925))
            ThreePointArc((-55.657585683, -288.925), (-59.035785683, -292.3032), (-62.413985683, -288.925))
            Line((-62.413985683, -288.925), (-62.413985683, -269.875))
            ThreePointArc((-62.413985683, -269.875), (-59.035785683, -266.4968), (-55.657585683, -269.875))
        make_face()
    cut_extrude8_tool2 = extrude(cut_extrude8_sk2.sketch, amount=-CUT_EXTRUDE8_REACH, mode=Mode.PRIVATE) & part.part
    add(cut_extrude8_tool2.solids().sort_by_distance((-59.035786, 0, -279.4))[0], mode=Mode.SUBTRACT)
    # Sketch9 → Cut-Extrude8 (cut, up to next)
    with BuildSketch(Plane.XZ, mode=Mode.PRIVATE) as cut_extrude8_sk3:
        with BuildLine():
            Line((-55.657585683, 60.325), (-55.657585683, 79.375))
            ThreePointArc((-55.657585683, 79.375), (-59.035785683, 82.7532), (-62.413985683, 79.375))
            Line((-62.413985683, 79.375), (-62.413985683, 60.325))
            ThreePointArc((-62.413985683, 60.325), (-59.035785683, 56.9468), (-55.657585683, 60.325))
        make_face()
    cut_extrude8_tool3 = extrude(cut_extrude8_sk3.sketch, amount=-CUT_EXTRUDE8_REACH, mode=Mode.PRIVATE) & part.part
    add(cut_extrude8_tool3.solids().sort_by_distance((-59.035786, 0, 69.85))[0], mode=Mode.SUBTRACT)
    # Sketch9 → Cut-Extrude8 (cut, up to next)
    with BuildSketch(Plane.XZ, mode=Mode.PRIVATE) as cut_extrude8_sk4:
        with BuildLine():
            Line((62.052200001, 60.325), (62.052200001, 79.375))
            ThreePointArc((62.052200001, 79.375), (58.674000001, 82.7532), (55.295800001, 79.375))
            Line((55.295800001, 79.375), (55.295800001, 60.325))
            ThreePointArc((55.295800001, 60.325), (58.674000001, 56.9468), (62.052200001, 60.325))
        make_face()
    cut_extrude8_tool4 = extrude(cut_extrude8_sk4.sketch, amount=-CUT_EXTRUDE8_REACH, mode=Mode.PRIVATE) & part.part
    add(cut_extrude8_tool4.solids().sort_by_distance((58.674, 0, 69.85))[0], mode=Mode.SUBTRACT)


with BuildPart() as part_1:
    # Scale1: scaled about (-0.0693639, 1.59, -96.26928837)
    add(part.part.scale(SCALE1_SCALE).moved(Location((-0.045086535, 1.0335, -62.575037441))))


solid = part_1.part
